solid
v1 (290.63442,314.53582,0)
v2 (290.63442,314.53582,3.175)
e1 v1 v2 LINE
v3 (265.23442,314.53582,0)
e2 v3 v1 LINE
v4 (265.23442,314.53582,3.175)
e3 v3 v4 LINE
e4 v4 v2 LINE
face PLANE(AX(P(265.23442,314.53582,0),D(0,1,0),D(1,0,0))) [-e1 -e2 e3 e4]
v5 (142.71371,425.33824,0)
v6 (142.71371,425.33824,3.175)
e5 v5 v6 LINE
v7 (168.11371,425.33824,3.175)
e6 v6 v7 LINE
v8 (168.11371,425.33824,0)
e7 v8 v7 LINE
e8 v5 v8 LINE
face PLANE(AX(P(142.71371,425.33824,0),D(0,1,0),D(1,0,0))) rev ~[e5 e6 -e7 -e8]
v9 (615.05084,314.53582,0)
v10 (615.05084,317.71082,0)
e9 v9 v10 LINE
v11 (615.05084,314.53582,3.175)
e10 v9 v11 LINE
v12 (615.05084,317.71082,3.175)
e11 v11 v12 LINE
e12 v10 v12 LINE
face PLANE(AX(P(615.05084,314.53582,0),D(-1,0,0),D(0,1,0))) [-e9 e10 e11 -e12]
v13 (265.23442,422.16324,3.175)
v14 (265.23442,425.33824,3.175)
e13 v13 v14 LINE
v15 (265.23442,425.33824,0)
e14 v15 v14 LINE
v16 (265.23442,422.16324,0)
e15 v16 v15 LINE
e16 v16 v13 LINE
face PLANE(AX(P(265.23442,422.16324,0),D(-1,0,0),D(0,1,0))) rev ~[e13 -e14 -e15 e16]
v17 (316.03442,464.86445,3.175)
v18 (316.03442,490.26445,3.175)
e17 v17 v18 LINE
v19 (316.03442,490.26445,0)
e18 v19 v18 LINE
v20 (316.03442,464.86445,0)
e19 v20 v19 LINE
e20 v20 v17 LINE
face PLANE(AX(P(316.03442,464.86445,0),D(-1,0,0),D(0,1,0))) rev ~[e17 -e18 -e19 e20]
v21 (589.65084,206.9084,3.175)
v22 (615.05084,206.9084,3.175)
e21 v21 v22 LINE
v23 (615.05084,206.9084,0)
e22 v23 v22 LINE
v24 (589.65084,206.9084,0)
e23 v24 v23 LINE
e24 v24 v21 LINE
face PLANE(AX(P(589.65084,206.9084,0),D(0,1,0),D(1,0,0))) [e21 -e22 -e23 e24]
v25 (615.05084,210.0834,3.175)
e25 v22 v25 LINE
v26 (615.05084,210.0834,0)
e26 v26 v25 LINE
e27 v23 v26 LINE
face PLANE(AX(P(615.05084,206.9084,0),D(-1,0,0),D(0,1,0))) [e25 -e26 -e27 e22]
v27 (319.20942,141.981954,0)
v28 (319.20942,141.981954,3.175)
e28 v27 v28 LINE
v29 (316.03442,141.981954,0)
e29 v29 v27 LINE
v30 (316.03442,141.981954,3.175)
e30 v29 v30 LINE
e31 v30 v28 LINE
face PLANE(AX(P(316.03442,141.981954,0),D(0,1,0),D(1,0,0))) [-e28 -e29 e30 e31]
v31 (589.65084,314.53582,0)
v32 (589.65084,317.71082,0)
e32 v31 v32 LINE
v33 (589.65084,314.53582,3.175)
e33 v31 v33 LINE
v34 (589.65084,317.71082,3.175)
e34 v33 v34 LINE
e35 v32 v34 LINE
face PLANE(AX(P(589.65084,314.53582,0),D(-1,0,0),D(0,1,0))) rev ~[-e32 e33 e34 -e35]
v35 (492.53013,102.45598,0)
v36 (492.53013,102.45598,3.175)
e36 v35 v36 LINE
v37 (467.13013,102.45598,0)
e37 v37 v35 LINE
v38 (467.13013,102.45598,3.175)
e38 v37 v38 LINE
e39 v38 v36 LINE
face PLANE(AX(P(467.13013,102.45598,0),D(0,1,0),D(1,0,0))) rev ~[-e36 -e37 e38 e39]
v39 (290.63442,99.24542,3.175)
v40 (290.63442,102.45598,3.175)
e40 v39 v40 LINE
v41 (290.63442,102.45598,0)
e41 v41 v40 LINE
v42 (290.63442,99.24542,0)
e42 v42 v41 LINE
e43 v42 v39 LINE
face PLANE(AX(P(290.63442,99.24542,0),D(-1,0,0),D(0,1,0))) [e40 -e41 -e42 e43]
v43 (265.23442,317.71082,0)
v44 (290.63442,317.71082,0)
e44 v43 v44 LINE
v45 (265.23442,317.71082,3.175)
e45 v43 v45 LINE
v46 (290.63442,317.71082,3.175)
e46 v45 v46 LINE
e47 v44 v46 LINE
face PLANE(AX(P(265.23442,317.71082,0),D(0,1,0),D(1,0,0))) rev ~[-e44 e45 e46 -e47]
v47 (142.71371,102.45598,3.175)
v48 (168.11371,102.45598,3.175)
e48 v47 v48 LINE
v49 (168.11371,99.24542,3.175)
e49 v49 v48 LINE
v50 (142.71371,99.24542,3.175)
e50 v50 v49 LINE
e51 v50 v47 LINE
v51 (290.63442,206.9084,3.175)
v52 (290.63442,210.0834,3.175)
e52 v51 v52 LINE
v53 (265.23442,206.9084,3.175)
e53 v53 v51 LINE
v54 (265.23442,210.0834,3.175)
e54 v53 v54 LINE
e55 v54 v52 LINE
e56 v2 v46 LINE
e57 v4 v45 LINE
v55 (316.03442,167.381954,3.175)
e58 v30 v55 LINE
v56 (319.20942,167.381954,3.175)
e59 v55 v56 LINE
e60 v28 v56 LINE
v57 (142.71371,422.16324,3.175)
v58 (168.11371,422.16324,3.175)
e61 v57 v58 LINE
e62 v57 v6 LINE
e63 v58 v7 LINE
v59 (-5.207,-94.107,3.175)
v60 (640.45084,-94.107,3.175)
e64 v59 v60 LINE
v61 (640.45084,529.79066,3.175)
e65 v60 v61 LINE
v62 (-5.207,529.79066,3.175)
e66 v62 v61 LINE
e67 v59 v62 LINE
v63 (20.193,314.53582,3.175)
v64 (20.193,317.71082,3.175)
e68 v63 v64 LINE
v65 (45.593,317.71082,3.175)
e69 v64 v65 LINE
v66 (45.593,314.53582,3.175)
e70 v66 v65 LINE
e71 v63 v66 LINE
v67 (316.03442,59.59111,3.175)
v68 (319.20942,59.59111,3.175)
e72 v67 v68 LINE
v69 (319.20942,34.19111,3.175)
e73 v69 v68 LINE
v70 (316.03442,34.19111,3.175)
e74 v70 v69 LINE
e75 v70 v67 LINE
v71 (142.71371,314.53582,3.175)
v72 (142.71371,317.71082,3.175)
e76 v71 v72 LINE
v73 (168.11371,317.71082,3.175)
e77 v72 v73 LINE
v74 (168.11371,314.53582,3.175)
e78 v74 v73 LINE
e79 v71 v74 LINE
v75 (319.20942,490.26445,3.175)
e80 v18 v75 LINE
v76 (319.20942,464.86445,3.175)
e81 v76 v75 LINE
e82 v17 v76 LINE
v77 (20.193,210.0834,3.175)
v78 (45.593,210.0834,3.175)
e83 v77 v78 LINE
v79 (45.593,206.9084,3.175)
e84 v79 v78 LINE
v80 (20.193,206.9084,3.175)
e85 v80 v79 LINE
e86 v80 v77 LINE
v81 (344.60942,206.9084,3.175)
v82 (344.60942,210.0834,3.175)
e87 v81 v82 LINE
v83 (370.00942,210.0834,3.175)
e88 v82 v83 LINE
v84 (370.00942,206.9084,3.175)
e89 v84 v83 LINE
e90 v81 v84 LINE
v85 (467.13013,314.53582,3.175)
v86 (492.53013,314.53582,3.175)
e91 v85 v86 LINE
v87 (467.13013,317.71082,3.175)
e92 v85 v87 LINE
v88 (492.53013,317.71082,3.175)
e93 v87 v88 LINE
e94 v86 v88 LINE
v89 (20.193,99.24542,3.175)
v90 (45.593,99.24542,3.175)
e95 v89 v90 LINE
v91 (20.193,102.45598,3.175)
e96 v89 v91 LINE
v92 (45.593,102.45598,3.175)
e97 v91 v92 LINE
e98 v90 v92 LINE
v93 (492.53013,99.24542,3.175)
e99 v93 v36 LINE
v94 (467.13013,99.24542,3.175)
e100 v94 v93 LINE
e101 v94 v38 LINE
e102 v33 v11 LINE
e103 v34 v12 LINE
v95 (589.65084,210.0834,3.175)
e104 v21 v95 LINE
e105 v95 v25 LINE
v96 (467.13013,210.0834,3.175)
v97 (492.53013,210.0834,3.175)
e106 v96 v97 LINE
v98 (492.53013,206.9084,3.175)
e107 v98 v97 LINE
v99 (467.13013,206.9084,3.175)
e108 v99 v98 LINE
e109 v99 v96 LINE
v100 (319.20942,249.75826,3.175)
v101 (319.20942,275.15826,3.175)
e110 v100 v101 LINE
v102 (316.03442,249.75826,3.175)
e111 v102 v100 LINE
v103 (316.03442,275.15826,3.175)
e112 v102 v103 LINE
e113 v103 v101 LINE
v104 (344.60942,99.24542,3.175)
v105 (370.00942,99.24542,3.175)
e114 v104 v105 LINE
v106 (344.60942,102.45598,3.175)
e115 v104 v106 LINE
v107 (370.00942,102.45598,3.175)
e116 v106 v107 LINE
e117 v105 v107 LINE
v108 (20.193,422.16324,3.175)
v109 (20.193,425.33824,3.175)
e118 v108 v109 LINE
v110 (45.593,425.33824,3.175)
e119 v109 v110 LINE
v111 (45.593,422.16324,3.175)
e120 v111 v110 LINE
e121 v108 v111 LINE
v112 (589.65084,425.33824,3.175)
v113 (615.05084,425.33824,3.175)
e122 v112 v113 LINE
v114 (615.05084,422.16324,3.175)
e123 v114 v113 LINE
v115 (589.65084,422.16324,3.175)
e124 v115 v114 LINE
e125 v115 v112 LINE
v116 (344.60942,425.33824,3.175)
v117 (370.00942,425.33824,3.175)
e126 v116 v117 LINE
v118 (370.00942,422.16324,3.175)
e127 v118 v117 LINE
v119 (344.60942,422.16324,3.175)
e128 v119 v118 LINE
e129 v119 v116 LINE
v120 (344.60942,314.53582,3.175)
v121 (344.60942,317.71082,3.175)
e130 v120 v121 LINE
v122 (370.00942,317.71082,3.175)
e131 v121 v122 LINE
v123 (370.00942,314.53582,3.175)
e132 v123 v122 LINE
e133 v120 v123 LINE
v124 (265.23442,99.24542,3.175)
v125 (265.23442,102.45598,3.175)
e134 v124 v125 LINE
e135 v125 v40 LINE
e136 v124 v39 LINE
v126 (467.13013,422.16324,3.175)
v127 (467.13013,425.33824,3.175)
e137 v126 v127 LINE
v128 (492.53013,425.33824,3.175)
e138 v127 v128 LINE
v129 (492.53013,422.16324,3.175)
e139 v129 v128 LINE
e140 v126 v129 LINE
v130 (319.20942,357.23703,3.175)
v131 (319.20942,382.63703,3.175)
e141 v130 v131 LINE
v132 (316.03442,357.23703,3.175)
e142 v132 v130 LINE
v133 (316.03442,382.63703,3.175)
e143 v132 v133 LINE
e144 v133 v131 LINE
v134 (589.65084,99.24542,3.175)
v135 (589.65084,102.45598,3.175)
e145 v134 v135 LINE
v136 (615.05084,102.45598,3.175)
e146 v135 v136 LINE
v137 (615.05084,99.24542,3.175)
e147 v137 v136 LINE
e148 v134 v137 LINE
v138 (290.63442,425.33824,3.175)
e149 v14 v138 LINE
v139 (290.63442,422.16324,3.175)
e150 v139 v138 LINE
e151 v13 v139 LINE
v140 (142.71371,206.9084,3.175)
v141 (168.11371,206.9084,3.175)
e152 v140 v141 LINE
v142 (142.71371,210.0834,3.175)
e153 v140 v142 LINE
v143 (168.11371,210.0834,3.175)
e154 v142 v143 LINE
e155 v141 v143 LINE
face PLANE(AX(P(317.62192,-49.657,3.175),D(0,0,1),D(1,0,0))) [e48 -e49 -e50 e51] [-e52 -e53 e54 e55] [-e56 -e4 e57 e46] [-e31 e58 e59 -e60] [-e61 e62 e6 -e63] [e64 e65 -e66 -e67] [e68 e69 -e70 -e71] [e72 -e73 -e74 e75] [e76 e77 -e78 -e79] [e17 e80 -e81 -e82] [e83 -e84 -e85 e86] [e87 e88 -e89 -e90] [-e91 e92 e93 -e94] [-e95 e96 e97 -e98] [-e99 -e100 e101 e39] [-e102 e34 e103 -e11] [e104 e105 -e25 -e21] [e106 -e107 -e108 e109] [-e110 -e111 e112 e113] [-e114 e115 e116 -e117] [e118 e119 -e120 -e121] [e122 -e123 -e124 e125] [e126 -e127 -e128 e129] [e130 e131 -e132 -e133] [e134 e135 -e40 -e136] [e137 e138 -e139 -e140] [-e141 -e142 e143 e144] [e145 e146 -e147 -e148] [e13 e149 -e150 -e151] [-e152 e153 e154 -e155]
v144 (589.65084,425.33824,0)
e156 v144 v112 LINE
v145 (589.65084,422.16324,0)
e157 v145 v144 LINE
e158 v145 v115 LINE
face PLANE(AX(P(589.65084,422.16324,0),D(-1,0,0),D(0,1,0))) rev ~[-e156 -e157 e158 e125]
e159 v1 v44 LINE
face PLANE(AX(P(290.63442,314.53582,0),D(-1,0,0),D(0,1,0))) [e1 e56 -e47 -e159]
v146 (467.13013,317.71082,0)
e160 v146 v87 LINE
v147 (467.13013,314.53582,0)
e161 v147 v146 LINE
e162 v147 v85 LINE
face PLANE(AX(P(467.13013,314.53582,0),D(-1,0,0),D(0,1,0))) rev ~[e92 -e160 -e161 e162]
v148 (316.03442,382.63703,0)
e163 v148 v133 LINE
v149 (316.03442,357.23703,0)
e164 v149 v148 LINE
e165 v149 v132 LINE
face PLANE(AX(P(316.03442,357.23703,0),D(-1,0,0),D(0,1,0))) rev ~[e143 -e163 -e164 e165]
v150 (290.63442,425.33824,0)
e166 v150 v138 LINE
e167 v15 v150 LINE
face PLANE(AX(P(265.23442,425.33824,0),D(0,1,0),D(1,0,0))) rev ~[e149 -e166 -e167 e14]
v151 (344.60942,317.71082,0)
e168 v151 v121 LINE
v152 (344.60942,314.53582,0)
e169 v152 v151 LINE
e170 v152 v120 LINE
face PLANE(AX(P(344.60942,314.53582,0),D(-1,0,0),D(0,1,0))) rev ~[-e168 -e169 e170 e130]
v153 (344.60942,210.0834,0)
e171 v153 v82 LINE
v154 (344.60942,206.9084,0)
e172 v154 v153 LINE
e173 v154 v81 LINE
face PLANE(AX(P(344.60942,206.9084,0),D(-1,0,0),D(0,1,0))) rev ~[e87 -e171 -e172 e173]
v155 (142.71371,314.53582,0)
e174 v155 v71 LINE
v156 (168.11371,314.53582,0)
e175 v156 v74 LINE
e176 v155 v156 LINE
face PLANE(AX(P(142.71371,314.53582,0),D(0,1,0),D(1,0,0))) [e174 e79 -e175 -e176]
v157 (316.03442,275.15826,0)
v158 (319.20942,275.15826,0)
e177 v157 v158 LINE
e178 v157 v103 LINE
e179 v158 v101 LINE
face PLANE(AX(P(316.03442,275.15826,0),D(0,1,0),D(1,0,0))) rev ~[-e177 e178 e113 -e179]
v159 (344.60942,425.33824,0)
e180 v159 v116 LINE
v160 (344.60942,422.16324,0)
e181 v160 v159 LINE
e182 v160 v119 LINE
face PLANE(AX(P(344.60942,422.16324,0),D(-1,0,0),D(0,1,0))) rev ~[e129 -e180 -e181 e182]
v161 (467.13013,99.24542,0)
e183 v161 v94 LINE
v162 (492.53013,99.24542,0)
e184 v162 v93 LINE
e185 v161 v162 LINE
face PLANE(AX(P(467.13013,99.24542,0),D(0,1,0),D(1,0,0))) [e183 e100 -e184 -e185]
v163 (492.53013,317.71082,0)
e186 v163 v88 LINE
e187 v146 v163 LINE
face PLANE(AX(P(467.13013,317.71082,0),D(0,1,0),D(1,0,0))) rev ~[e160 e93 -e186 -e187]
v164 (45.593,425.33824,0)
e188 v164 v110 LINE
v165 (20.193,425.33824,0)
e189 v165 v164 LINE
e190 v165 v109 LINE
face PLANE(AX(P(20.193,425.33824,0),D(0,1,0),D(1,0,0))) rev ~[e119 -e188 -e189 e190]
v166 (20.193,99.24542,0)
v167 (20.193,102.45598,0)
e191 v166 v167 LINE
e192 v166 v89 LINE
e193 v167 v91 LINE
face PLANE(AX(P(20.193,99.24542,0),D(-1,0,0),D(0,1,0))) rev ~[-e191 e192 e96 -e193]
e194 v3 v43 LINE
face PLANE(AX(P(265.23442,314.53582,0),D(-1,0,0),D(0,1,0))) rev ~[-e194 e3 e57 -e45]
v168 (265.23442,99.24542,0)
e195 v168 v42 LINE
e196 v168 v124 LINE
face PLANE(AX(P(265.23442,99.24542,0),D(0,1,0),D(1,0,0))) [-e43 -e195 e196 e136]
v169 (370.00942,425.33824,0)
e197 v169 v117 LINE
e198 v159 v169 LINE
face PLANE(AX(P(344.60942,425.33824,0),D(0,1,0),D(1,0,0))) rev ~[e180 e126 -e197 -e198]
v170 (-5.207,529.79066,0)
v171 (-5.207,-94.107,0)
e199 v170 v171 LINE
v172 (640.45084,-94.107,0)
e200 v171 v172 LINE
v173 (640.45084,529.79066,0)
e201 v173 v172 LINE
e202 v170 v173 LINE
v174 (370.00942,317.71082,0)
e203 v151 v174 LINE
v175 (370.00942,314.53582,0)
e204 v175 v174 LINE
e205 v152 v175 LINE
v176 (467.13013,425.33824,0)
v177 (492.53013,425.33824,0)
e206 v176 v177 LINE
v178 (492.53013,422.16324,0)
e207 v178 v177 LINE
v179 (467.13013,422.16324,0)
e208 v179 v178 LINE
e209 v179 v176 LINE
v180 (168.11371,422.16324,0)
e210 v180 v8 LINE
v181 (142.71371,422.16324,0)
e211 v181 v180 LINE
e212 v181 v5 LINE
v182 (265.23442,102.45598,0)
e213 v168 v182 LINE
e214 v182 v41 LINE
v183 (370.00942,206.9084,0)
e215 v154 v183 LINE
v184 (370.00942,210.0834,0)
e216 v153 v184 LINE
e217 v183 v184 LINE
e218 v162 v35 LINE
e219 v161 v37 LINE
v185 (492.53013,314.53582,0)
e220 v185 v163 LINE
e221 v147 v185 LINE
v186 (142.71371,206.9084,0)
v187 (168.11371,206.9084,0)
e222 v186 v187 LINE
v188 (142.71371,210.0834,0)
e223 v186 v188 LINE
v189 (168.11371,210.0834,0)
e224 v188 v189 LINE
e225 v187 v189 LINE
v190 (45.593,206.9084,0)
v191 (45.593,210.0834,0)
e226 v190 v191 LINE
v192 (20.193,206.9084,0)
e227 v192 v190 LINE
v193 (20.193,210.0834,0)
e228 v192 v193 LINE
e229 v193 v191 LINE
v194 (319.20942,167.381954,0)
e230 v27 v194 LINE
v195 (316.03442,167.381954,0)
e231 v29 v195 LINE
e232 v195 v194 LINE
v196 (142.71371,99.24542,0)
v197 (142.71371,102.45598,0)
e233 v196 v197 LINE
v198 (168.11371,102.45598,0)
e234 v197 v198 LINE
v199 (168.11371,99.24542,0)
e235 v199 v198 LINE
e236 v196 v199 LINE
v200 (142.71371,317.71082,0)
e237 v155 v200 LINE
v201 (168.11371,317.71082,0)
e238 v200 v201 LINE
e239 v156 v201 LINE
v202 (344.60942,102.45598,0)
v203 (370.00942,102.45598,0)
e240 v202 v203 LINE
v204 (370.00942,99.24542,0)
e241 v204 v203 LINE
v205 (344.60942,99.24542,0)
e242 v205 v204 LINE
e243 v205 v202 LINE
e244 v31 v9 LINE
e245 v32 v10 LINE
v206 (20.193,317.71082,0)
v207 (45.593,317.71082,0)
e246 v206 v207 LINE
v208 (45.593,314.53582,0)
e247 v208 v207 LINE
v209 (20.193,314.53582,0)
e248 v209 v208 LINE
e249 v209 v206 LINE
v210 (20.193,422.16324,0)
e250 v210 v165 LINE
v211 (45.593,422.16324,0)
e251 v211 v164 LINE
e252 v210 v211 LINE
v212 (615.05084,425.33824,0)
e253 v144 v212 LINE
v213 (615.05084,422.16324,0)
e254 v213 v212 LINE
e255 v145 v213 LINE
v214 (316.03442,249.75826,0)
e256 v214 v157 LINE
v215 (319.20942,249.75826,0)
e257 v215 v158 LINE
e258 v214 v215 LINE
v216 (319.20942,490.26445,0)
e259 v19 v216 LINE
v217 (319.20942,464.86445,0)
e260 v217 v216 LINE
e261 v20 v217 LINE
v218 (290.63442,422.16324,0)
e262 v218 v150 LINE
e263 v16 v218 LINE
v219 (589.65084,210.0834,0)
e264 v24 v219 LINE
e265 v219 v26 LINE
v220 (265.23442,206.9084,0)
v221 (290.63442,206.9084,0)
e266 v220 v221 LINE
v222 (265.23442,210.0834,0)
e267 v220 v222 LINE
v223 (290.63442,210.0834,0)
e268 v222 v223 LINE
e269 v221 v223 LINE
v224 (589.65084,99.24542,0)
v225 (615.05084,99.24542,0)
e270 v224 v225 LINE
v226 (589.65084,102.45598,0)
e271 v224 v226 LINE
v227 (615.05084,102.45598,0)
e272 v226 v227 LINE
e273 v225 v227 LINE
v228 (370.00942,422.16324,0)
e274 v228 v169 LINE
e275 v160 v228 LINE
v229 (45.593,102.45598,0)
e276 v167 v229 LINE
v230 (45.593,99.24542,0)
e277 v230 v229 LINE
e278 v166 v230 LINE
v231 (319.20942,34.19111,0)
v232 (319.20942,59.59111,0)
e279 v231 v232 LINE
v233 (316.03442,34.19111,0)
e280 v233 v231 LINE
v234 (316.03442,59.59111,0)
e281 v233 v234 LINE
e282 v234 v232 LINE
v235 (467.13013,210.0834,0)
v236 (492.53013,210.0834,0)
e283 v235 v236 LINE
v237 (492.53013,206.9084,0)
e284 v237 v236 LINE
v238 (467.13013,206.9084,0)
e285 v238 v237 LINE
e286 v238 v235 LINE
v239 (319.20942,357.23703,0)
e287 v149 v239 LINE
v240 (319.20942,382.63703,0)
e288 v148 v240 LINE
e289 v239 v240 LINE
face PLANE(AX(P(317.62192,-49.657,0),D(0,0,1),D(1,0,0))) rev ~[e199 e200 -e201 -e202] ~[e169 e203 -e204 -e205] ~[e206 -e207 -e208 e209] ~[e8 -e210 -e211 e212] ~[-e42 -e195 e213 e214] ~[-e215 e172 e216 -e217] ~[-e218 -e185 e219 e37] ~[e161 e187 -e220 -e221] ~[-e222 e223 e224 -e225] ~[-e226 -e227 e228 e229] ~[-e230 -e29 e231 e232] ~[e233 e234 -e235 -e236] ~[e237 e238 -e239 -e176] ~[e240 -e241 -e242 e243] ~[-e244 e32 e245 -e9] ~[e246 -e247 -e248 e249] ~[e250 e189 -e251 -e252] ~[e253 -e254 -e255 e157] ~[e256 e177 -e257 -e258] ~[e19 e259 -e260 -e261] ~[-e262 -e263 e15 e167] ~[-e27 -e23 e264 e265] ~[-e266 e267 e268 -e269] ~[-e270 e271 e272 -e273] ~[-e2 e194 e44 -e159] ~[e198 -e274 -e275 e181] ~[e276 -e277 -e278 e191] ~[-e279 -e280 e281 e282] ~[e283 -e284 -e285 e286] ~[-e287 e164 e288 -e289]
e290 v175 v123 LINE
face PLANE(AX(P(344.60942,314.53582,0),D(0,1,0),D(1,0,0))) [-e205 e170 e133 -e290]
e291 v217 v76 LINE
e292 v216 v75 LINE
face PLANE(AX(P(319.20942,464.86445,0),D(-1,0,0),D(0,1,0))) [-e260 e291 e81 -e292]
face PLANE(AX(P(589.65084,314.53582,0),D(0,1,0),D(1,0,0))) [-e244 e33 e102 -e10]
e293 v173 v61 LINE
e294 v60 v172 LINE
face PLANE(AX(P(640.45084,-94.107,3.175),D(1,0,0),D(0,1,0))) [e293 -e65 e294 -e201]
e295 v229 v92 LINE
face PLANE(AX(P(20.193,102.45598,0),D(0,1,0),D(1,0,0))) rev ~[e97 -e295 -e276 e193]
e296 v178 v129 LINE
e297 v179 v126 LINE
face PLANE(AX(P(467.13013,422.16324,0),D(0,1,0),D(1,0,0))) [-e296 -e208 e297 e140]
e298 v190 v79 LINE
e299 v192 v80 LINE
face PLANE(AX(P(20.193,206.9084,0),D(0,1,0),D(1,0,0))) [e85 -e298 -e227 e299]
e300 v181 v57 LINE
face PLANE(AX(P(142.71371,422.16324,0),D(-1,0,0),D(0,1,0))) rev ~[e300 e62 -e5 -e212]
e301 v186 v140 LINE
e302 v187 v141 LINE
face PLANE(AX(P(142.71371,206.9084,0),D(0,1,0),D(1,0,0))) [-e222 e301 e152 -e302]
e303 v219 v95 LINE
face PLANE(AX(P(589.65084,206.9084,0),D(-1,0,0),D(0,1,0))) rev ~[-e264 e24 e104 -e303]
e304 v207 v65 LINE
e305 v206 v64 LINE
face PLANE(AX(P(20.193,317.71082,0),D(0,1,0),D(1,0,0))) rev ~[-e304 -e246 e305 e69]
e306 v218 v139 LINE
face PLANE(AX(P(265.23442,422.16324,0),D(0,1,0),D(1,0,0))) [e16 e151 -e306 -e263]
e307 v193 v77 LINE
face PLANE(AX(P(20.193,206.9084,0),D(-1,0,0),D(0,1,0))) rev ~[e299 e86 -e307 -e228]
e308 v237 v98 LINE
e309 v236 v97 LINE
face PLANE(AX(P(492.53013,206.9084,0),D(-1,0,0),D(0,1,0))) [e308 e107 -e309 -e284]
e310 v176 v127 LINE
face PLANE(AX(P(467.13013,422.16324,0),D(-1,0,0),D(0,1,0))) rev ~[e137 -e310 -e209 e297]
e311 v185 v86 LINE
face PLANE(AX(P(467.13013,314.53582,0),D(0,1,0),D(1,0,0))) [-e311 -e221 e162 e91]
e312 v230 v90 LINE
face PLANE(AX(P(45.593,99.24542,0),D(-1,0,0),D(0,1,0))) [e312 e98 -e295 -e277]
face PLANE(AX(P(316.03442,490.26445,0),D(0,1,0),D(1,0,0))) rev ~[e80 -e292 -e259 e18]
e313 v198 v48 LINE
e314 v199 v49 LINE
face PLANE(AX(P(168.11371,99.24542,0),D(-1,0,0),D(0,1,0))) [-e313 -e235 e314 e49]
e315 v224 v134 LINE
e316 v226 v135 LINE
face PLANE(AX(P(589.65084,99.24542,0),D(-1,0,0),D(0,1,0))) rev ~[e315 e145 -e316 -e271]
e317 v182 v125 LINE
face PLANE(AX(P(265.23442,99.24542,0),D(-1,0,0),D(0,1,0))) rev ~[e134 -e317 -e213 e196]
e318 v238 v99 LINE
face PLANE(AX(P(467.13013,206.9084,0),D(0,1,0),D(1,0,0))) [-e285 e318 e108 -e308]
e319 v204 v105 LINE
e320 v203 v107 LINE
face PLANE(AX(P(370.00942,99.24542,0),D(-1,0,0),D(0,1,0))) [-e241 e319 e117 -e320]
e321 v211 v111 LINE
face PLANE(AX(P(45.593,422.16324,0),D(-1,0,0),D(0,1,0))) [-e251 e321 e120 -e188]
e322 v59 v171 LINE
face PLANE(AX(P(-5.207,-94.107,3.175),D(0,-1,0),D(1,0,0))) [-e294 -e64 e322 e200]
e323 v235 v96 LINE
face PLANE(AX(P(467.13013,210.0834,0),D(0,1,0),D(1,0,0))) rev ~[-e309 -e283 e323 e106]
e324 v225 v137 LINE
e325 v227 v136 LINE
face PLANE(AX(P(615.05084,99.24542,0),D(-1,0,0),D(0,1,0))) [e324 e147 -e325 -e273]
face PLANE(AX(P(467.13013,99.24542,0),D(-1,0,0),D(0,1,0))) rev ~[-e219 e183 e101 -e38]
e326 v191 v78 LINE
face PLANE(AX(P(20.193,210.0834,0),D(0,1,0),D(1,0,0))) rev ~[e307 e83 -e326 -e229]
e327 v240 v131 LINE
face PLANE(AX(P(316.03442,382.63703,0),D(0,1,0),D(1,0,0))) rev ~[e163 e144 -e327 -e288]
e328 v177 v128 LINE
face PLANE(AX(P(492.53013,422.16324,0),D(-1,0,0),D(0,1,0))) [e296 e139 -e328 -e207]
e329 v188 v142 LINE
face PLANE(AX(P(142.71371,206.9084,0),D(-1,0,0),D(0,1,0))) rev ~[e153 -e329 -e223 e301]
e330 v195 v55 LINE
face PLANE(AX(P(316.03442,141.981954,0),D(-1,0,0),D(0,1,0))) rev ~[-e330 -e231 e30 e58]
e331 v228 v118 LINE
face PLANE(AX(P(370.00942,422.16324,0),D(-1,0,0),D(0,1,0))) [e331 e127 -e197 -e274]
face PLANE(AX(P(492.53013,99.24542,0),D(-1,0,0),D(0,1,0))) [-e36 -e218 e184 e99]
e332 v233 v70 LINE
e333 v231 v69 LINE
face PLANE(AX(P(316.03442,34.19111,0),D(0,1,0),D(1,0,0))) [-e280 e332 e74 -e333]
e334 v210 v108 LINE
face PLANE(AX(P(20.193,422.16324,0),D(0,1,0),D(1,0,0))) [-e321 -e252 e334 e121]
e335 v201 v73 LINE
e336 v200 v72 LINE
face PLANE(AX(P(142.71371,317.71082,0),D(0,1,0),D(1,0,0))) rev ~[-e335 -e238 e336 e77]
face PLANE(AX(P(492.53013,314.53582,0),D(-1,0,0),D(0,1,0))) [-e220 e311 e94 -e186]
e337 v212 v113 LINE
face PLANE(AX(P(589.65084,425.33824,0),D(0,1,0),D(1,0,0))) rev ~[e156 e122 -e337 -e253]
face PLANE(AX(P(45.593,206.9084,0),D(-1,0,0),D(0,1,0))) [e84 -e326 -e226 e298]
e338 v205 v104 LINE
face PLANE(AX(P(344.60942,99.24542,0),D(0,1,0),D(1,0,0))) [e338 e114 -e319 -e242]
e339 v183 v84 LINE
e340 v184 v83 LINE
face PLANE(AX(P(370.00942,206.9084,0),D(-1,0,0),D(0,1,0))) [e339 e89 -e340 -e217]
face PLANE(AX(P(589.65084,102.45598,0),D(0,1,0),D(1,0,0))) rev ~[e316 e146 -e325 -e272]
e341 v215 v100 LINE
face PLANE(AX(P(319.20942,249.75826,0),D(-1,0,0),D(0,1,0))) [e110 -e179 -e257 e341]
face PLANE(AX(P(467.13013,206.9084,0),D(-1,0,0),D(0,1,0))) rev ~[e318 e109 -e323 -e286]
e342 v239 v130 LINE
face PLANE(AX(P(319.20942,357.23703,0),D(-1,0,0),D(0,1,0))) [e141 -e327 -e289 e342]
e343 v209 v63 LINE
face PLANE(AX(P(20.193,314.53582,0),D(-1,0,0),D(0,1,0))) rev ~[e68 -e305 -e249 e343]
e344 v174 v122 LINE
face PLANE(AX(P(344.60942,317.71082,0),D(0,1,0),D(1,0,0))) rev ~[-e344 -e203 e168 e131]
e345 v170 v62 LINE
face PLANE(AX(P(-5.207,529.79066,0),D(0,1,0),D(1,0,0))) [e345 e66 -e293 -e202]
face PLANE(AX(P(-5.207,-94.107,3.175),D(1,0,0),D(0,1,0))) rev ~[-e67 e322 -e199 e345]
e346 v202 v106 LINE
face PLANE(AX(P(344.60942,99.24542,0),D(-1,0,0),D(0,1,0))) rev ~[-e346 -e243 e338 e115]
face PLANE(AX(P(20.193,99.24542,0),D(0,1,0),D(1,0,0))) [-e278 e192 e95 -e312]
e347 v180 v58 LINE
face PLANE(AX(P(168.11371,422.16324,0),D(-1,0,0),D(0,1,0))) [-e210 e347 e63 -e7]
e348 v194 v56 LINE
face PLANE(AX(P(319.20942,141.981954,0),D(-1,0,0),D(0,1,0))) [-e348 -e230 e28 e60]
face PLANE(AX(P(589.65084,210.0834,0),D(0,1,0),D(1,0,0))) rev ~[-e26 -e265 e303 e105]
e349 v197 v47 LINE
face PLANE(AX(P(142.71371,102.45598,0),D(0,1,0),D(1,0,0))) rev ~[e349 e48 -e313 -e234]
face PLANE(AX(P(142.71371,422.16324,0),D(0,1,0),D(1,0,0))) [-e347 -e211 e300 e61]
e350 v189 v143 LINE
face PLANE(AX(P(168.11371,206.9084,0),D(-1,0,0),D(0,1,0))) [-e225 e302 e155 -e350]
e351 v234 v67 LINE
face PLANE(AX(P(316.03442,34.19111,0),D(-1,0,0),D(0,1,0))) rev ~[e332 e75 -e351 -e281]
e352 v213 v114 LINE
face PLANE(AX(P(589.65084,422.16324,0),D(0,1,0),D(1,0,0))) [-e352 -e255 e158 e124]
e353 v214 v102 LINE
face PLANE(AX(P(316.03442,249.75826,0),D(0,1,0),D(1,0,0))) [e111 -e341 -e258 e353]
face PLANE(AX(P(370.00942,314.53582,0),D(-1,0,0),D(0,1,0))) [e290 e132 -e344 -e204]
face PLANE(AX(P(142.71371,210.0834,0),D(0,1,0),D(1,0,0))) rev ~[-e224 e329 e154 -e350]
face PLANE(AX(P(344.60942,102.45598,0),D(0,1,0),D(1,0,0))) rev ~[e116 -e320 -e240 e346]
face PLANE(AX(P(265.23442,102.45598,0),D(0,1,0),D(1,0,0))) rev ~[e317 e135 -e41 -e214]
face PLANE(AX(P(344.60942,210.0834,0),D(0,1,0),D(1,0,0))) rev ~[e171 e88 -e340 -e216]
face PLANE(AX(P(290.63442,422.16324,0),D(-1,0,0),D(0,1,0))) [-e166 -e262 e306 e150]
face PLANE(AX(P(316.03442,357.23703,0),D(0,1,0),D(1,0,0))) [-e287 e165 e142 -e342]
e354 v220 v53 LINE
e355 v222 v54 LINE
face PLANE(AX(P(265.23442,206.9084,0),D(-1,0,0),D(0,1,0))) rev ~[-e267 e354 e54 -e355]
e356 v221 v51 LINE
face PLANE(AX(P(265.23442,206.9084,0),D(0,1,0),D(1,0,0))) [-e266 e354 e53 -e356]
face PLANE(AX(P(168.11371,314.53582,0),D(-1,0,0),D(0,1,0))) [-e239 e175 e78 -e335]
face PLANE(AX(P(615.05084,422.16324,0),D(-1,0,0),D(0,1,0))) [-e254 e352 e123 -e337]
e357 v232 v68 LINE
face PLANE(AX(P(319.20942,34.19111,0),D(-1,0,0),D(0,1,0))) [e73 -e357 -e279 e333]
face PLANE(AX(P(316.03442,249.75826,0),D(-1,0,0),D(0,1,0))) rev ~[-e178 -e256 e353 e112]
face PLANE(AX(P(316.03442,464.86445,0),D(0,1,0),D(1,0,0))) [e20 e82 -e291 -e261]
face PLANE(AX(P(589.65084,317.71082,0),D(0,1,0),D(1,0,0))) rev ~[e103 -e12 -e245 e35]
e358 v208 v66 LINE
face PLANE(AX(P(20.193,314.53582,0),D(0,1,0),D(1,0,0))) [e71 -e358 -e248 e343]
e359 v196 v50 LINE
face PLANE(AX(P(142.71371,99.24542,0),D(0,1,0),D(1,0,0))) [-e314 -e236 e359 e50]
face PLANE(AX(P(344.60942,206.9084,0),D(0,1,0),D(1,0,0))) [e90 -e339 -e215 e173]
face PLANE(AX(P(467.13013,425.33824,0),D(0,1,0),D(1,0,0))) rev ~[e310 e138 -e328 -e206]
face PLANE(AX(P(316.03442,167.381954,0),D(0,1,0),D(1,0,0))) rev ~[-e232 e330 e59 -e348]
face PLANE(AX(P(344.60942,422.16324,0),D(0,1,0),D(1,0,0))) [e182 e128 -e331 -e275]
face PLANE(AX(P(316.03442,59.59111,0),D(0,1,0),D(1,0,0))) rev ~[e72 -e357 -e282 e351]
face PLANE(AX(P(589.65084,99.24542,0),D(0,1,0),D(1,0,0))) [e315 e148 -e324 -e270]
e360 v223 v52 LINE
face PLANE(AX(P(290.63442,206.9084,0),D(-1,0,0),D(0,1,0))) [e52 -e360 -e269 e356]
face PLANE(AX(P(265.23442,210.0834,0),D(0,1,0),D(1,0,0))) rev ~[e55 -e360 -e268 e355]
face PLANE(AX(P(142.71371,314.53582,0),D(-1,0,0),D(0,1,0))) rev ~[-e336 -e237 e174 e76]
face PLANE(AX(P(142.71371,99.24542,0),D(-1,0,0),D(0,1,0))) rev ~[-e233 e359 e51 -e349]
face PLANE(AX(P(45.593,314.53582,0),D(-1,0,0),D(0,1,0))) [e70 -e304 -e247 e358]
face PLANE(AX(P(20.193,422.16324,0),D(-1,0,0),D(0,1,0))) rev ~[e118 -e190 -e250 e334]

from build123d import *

# Parameters (mm, degrees)
SKETCH8_W           = 645.65784
SKETCH8_H           = 534.99766
SKETCH8_W_2         = 3.175
SKETCH8_H_2         = 25.4
SKETCH8_W_3         = 25.4
SKETCH8_H_3         = 3.175
SKETCH8_H_4         = 3.21056
BOSS_EXTRUDE2_DEPTH = 3.175
SKETCH10_W          = 645.65784
SKETCH10_H          = 88.9
BOSS_EXTRUDE6_DEPTH = 3.175


with BuildPart() as part:
    # Sketch8 → Boss-Extrude2 (new body)
    with BuildSketch(Plane.XY):
        with Locations((317.62192, 262.29183)):
            Rectangle(SKETCH8_W, SKETCH8_H)
        with Locations((317.62192, 477.56445)):
            Rectangle(SKETCH8_W_2, SKETCH8_H_2, mode=Mode.SUBTRACT)
        with Locations((317.62192, 369.93703)):
            Rectangle(SKETCH8_W_2, SKETCH8_H_2, mode=Mode.SUBTRACT)
        with Locations((317.62192, 262.458260384)):
            Rectangle(SKETCH8_W_2, SKETCH8_H_2, mode=Mode.SUBTRACT)
        with Locations((317.62192, 154.681954488)):
            Rectangle(SKETCH8_W_2, SKETCH8_H_2, mode=Mode.SUBTRACT)
        with Locations((317.62192, 46.891109833)):
            Rectangle(SKETCH8_W_2, SKETCH8_H_2, mode=Mode.SUBTRACT)
        with Locations((32.893, 423.75074)):
            Rectangle(SKETCH8_W_3, SKETCH8_H_3, mode=Mode.SUBTRACT)
        with Locations((155.41371, 423.75074)):
            Rectangle(SKETCH8_W_3, SKETCH8_H_3, mode=Mode.SUBTRACT)
        with Locations((32.893, 316.12332)):
            Rectangle(SKETCH8_W_3, SKETCH8_H_3, mode=Mode.SUBTRACT)
        with Locations((32.893, 208.4959)):
            Rectangle(SKETCH8_W_3, SKETCH8_H_3, mode=Mode.SUBTRACT)
        with Locations((32.893, 100.8507)):
            Rectangle(SKETCH8_W_3, SKETCH8_H_4, mode=Mode.SUBTRACT)
        with Locations((277.93442, 423.75074)):
            Rectangle(SKETCH8_W_3, SKETCH8_H_3, mode=Mode.SUBTRACT)
        with Locations((155.41371, 316.12332)):
            Rectangle(SKETCH8_W_3, SKETCH8_H_3, mode=Mode.SUBTRACT)
        with Locations((155.41371, 208.4959)):
            Rectangle(SKETCH8_W_3, SKETCH8_H_3, mode=Mode.SUBTRACT)
        with Locations((155.41371, 100.8507)):
            Rectangle(SKETCH8_W_3, SKETCH8_H_4, mode=Mode.SUBTRACT)
        with Locations((277.93442, 316.12332)):
            Rectangle(SKETCH8_W_3, SKETCH8_H_3, mode=Mode.SUBTRACT)
        with Locations((277.93442, 208.4959)):
            Rectangle(SKETCH8_W_3, SKETCH8_H_3, mode=Mode.SUBTRACT)
        with Locations((277.93442, 100.8507)):
            Rectangle(SKETCH8_W_3, SKETCH8_H_4, mode=Mode.SUBTRACT)
        with Locations((602.35084, 100.8507)):
            Rectangle(SKETCH8_W_3, SKETCH8_H_4, mode=Mode.SUBTRACT)
        with Locations((479.83013, 100.8507)):
            Rectangle(SKETCH8_W_3, SKETCH8_H_4, mode=Mode.SUBTRACT)
        with Locations((357.30942, 100.8507)):
            Rectangle(SKETCH8_W_3, SKETCH8_H_4, mode=Mode.SUBTRACT)
        with Locations((357.30942, 208.4959)):
            Rectangle(SKETCH8_W_3, SKETCH8_H_3, mode=Mode.SUBTRACT)
        with Locations((479.83013, 208.4959)):
            Rectangle(SKETCH8_W_3, SKETCH8_H_3, mode=Mode.SUBTRACT)
        with Locations((602.35084, 208.4959)):
            Rectangle(SKETCH8_W_3, SKETCH8_H_3, mode=Mode.SUBTRACT)
        with Locations((602.35084, 316.12332)):
            Rectangle(SKETCH8_W_3, SKETCH8_H_3, mode=Mode.SUBTRACT)
        with Locations((479.83013, 316.12332)):
            Rectangle(SKETCH8_W_3, SKETCH8_H_3, mode=Mode.SUBTRACT)
        with Locations((357.30942, 316.12332)):
            Rectangle(SKETCH8_W_3, SKETCH8_H_3, mode=Mode.SUBTRACT)
        with Locations((357.30942, 423.75074)):
            Rectangle(SKETCH8_W_3, SKETCH8_H_3, mode=Mode.SUBTRACT)
        with Locations((479.83013, 423.75074)):
            Rectangle(SKETCH8_W_3, SKETCH8_H_3, mode=Mode.SUBTRACT)
        with Locations((602.35084, 423.75074)):
            Rectangle(SKETCH8_W_3, SKETCH8_H_3, mode=Mode.SUBTRACT)
    extrude(amount=BOSS_EXTRUDE2_DEPTH)

    # Sketch10 → Boss-Extrude6 (add, through all)
    with BuildSketch(Plane.XY.offset(3.175)):
        with Locations((317.62192, -49.657)):
            Rectangle(SKETCH10_W, SKETCH10_H)
    extrude(amount=-BOSS_EXTRUDE6_DEPTH)


solid = part.part
